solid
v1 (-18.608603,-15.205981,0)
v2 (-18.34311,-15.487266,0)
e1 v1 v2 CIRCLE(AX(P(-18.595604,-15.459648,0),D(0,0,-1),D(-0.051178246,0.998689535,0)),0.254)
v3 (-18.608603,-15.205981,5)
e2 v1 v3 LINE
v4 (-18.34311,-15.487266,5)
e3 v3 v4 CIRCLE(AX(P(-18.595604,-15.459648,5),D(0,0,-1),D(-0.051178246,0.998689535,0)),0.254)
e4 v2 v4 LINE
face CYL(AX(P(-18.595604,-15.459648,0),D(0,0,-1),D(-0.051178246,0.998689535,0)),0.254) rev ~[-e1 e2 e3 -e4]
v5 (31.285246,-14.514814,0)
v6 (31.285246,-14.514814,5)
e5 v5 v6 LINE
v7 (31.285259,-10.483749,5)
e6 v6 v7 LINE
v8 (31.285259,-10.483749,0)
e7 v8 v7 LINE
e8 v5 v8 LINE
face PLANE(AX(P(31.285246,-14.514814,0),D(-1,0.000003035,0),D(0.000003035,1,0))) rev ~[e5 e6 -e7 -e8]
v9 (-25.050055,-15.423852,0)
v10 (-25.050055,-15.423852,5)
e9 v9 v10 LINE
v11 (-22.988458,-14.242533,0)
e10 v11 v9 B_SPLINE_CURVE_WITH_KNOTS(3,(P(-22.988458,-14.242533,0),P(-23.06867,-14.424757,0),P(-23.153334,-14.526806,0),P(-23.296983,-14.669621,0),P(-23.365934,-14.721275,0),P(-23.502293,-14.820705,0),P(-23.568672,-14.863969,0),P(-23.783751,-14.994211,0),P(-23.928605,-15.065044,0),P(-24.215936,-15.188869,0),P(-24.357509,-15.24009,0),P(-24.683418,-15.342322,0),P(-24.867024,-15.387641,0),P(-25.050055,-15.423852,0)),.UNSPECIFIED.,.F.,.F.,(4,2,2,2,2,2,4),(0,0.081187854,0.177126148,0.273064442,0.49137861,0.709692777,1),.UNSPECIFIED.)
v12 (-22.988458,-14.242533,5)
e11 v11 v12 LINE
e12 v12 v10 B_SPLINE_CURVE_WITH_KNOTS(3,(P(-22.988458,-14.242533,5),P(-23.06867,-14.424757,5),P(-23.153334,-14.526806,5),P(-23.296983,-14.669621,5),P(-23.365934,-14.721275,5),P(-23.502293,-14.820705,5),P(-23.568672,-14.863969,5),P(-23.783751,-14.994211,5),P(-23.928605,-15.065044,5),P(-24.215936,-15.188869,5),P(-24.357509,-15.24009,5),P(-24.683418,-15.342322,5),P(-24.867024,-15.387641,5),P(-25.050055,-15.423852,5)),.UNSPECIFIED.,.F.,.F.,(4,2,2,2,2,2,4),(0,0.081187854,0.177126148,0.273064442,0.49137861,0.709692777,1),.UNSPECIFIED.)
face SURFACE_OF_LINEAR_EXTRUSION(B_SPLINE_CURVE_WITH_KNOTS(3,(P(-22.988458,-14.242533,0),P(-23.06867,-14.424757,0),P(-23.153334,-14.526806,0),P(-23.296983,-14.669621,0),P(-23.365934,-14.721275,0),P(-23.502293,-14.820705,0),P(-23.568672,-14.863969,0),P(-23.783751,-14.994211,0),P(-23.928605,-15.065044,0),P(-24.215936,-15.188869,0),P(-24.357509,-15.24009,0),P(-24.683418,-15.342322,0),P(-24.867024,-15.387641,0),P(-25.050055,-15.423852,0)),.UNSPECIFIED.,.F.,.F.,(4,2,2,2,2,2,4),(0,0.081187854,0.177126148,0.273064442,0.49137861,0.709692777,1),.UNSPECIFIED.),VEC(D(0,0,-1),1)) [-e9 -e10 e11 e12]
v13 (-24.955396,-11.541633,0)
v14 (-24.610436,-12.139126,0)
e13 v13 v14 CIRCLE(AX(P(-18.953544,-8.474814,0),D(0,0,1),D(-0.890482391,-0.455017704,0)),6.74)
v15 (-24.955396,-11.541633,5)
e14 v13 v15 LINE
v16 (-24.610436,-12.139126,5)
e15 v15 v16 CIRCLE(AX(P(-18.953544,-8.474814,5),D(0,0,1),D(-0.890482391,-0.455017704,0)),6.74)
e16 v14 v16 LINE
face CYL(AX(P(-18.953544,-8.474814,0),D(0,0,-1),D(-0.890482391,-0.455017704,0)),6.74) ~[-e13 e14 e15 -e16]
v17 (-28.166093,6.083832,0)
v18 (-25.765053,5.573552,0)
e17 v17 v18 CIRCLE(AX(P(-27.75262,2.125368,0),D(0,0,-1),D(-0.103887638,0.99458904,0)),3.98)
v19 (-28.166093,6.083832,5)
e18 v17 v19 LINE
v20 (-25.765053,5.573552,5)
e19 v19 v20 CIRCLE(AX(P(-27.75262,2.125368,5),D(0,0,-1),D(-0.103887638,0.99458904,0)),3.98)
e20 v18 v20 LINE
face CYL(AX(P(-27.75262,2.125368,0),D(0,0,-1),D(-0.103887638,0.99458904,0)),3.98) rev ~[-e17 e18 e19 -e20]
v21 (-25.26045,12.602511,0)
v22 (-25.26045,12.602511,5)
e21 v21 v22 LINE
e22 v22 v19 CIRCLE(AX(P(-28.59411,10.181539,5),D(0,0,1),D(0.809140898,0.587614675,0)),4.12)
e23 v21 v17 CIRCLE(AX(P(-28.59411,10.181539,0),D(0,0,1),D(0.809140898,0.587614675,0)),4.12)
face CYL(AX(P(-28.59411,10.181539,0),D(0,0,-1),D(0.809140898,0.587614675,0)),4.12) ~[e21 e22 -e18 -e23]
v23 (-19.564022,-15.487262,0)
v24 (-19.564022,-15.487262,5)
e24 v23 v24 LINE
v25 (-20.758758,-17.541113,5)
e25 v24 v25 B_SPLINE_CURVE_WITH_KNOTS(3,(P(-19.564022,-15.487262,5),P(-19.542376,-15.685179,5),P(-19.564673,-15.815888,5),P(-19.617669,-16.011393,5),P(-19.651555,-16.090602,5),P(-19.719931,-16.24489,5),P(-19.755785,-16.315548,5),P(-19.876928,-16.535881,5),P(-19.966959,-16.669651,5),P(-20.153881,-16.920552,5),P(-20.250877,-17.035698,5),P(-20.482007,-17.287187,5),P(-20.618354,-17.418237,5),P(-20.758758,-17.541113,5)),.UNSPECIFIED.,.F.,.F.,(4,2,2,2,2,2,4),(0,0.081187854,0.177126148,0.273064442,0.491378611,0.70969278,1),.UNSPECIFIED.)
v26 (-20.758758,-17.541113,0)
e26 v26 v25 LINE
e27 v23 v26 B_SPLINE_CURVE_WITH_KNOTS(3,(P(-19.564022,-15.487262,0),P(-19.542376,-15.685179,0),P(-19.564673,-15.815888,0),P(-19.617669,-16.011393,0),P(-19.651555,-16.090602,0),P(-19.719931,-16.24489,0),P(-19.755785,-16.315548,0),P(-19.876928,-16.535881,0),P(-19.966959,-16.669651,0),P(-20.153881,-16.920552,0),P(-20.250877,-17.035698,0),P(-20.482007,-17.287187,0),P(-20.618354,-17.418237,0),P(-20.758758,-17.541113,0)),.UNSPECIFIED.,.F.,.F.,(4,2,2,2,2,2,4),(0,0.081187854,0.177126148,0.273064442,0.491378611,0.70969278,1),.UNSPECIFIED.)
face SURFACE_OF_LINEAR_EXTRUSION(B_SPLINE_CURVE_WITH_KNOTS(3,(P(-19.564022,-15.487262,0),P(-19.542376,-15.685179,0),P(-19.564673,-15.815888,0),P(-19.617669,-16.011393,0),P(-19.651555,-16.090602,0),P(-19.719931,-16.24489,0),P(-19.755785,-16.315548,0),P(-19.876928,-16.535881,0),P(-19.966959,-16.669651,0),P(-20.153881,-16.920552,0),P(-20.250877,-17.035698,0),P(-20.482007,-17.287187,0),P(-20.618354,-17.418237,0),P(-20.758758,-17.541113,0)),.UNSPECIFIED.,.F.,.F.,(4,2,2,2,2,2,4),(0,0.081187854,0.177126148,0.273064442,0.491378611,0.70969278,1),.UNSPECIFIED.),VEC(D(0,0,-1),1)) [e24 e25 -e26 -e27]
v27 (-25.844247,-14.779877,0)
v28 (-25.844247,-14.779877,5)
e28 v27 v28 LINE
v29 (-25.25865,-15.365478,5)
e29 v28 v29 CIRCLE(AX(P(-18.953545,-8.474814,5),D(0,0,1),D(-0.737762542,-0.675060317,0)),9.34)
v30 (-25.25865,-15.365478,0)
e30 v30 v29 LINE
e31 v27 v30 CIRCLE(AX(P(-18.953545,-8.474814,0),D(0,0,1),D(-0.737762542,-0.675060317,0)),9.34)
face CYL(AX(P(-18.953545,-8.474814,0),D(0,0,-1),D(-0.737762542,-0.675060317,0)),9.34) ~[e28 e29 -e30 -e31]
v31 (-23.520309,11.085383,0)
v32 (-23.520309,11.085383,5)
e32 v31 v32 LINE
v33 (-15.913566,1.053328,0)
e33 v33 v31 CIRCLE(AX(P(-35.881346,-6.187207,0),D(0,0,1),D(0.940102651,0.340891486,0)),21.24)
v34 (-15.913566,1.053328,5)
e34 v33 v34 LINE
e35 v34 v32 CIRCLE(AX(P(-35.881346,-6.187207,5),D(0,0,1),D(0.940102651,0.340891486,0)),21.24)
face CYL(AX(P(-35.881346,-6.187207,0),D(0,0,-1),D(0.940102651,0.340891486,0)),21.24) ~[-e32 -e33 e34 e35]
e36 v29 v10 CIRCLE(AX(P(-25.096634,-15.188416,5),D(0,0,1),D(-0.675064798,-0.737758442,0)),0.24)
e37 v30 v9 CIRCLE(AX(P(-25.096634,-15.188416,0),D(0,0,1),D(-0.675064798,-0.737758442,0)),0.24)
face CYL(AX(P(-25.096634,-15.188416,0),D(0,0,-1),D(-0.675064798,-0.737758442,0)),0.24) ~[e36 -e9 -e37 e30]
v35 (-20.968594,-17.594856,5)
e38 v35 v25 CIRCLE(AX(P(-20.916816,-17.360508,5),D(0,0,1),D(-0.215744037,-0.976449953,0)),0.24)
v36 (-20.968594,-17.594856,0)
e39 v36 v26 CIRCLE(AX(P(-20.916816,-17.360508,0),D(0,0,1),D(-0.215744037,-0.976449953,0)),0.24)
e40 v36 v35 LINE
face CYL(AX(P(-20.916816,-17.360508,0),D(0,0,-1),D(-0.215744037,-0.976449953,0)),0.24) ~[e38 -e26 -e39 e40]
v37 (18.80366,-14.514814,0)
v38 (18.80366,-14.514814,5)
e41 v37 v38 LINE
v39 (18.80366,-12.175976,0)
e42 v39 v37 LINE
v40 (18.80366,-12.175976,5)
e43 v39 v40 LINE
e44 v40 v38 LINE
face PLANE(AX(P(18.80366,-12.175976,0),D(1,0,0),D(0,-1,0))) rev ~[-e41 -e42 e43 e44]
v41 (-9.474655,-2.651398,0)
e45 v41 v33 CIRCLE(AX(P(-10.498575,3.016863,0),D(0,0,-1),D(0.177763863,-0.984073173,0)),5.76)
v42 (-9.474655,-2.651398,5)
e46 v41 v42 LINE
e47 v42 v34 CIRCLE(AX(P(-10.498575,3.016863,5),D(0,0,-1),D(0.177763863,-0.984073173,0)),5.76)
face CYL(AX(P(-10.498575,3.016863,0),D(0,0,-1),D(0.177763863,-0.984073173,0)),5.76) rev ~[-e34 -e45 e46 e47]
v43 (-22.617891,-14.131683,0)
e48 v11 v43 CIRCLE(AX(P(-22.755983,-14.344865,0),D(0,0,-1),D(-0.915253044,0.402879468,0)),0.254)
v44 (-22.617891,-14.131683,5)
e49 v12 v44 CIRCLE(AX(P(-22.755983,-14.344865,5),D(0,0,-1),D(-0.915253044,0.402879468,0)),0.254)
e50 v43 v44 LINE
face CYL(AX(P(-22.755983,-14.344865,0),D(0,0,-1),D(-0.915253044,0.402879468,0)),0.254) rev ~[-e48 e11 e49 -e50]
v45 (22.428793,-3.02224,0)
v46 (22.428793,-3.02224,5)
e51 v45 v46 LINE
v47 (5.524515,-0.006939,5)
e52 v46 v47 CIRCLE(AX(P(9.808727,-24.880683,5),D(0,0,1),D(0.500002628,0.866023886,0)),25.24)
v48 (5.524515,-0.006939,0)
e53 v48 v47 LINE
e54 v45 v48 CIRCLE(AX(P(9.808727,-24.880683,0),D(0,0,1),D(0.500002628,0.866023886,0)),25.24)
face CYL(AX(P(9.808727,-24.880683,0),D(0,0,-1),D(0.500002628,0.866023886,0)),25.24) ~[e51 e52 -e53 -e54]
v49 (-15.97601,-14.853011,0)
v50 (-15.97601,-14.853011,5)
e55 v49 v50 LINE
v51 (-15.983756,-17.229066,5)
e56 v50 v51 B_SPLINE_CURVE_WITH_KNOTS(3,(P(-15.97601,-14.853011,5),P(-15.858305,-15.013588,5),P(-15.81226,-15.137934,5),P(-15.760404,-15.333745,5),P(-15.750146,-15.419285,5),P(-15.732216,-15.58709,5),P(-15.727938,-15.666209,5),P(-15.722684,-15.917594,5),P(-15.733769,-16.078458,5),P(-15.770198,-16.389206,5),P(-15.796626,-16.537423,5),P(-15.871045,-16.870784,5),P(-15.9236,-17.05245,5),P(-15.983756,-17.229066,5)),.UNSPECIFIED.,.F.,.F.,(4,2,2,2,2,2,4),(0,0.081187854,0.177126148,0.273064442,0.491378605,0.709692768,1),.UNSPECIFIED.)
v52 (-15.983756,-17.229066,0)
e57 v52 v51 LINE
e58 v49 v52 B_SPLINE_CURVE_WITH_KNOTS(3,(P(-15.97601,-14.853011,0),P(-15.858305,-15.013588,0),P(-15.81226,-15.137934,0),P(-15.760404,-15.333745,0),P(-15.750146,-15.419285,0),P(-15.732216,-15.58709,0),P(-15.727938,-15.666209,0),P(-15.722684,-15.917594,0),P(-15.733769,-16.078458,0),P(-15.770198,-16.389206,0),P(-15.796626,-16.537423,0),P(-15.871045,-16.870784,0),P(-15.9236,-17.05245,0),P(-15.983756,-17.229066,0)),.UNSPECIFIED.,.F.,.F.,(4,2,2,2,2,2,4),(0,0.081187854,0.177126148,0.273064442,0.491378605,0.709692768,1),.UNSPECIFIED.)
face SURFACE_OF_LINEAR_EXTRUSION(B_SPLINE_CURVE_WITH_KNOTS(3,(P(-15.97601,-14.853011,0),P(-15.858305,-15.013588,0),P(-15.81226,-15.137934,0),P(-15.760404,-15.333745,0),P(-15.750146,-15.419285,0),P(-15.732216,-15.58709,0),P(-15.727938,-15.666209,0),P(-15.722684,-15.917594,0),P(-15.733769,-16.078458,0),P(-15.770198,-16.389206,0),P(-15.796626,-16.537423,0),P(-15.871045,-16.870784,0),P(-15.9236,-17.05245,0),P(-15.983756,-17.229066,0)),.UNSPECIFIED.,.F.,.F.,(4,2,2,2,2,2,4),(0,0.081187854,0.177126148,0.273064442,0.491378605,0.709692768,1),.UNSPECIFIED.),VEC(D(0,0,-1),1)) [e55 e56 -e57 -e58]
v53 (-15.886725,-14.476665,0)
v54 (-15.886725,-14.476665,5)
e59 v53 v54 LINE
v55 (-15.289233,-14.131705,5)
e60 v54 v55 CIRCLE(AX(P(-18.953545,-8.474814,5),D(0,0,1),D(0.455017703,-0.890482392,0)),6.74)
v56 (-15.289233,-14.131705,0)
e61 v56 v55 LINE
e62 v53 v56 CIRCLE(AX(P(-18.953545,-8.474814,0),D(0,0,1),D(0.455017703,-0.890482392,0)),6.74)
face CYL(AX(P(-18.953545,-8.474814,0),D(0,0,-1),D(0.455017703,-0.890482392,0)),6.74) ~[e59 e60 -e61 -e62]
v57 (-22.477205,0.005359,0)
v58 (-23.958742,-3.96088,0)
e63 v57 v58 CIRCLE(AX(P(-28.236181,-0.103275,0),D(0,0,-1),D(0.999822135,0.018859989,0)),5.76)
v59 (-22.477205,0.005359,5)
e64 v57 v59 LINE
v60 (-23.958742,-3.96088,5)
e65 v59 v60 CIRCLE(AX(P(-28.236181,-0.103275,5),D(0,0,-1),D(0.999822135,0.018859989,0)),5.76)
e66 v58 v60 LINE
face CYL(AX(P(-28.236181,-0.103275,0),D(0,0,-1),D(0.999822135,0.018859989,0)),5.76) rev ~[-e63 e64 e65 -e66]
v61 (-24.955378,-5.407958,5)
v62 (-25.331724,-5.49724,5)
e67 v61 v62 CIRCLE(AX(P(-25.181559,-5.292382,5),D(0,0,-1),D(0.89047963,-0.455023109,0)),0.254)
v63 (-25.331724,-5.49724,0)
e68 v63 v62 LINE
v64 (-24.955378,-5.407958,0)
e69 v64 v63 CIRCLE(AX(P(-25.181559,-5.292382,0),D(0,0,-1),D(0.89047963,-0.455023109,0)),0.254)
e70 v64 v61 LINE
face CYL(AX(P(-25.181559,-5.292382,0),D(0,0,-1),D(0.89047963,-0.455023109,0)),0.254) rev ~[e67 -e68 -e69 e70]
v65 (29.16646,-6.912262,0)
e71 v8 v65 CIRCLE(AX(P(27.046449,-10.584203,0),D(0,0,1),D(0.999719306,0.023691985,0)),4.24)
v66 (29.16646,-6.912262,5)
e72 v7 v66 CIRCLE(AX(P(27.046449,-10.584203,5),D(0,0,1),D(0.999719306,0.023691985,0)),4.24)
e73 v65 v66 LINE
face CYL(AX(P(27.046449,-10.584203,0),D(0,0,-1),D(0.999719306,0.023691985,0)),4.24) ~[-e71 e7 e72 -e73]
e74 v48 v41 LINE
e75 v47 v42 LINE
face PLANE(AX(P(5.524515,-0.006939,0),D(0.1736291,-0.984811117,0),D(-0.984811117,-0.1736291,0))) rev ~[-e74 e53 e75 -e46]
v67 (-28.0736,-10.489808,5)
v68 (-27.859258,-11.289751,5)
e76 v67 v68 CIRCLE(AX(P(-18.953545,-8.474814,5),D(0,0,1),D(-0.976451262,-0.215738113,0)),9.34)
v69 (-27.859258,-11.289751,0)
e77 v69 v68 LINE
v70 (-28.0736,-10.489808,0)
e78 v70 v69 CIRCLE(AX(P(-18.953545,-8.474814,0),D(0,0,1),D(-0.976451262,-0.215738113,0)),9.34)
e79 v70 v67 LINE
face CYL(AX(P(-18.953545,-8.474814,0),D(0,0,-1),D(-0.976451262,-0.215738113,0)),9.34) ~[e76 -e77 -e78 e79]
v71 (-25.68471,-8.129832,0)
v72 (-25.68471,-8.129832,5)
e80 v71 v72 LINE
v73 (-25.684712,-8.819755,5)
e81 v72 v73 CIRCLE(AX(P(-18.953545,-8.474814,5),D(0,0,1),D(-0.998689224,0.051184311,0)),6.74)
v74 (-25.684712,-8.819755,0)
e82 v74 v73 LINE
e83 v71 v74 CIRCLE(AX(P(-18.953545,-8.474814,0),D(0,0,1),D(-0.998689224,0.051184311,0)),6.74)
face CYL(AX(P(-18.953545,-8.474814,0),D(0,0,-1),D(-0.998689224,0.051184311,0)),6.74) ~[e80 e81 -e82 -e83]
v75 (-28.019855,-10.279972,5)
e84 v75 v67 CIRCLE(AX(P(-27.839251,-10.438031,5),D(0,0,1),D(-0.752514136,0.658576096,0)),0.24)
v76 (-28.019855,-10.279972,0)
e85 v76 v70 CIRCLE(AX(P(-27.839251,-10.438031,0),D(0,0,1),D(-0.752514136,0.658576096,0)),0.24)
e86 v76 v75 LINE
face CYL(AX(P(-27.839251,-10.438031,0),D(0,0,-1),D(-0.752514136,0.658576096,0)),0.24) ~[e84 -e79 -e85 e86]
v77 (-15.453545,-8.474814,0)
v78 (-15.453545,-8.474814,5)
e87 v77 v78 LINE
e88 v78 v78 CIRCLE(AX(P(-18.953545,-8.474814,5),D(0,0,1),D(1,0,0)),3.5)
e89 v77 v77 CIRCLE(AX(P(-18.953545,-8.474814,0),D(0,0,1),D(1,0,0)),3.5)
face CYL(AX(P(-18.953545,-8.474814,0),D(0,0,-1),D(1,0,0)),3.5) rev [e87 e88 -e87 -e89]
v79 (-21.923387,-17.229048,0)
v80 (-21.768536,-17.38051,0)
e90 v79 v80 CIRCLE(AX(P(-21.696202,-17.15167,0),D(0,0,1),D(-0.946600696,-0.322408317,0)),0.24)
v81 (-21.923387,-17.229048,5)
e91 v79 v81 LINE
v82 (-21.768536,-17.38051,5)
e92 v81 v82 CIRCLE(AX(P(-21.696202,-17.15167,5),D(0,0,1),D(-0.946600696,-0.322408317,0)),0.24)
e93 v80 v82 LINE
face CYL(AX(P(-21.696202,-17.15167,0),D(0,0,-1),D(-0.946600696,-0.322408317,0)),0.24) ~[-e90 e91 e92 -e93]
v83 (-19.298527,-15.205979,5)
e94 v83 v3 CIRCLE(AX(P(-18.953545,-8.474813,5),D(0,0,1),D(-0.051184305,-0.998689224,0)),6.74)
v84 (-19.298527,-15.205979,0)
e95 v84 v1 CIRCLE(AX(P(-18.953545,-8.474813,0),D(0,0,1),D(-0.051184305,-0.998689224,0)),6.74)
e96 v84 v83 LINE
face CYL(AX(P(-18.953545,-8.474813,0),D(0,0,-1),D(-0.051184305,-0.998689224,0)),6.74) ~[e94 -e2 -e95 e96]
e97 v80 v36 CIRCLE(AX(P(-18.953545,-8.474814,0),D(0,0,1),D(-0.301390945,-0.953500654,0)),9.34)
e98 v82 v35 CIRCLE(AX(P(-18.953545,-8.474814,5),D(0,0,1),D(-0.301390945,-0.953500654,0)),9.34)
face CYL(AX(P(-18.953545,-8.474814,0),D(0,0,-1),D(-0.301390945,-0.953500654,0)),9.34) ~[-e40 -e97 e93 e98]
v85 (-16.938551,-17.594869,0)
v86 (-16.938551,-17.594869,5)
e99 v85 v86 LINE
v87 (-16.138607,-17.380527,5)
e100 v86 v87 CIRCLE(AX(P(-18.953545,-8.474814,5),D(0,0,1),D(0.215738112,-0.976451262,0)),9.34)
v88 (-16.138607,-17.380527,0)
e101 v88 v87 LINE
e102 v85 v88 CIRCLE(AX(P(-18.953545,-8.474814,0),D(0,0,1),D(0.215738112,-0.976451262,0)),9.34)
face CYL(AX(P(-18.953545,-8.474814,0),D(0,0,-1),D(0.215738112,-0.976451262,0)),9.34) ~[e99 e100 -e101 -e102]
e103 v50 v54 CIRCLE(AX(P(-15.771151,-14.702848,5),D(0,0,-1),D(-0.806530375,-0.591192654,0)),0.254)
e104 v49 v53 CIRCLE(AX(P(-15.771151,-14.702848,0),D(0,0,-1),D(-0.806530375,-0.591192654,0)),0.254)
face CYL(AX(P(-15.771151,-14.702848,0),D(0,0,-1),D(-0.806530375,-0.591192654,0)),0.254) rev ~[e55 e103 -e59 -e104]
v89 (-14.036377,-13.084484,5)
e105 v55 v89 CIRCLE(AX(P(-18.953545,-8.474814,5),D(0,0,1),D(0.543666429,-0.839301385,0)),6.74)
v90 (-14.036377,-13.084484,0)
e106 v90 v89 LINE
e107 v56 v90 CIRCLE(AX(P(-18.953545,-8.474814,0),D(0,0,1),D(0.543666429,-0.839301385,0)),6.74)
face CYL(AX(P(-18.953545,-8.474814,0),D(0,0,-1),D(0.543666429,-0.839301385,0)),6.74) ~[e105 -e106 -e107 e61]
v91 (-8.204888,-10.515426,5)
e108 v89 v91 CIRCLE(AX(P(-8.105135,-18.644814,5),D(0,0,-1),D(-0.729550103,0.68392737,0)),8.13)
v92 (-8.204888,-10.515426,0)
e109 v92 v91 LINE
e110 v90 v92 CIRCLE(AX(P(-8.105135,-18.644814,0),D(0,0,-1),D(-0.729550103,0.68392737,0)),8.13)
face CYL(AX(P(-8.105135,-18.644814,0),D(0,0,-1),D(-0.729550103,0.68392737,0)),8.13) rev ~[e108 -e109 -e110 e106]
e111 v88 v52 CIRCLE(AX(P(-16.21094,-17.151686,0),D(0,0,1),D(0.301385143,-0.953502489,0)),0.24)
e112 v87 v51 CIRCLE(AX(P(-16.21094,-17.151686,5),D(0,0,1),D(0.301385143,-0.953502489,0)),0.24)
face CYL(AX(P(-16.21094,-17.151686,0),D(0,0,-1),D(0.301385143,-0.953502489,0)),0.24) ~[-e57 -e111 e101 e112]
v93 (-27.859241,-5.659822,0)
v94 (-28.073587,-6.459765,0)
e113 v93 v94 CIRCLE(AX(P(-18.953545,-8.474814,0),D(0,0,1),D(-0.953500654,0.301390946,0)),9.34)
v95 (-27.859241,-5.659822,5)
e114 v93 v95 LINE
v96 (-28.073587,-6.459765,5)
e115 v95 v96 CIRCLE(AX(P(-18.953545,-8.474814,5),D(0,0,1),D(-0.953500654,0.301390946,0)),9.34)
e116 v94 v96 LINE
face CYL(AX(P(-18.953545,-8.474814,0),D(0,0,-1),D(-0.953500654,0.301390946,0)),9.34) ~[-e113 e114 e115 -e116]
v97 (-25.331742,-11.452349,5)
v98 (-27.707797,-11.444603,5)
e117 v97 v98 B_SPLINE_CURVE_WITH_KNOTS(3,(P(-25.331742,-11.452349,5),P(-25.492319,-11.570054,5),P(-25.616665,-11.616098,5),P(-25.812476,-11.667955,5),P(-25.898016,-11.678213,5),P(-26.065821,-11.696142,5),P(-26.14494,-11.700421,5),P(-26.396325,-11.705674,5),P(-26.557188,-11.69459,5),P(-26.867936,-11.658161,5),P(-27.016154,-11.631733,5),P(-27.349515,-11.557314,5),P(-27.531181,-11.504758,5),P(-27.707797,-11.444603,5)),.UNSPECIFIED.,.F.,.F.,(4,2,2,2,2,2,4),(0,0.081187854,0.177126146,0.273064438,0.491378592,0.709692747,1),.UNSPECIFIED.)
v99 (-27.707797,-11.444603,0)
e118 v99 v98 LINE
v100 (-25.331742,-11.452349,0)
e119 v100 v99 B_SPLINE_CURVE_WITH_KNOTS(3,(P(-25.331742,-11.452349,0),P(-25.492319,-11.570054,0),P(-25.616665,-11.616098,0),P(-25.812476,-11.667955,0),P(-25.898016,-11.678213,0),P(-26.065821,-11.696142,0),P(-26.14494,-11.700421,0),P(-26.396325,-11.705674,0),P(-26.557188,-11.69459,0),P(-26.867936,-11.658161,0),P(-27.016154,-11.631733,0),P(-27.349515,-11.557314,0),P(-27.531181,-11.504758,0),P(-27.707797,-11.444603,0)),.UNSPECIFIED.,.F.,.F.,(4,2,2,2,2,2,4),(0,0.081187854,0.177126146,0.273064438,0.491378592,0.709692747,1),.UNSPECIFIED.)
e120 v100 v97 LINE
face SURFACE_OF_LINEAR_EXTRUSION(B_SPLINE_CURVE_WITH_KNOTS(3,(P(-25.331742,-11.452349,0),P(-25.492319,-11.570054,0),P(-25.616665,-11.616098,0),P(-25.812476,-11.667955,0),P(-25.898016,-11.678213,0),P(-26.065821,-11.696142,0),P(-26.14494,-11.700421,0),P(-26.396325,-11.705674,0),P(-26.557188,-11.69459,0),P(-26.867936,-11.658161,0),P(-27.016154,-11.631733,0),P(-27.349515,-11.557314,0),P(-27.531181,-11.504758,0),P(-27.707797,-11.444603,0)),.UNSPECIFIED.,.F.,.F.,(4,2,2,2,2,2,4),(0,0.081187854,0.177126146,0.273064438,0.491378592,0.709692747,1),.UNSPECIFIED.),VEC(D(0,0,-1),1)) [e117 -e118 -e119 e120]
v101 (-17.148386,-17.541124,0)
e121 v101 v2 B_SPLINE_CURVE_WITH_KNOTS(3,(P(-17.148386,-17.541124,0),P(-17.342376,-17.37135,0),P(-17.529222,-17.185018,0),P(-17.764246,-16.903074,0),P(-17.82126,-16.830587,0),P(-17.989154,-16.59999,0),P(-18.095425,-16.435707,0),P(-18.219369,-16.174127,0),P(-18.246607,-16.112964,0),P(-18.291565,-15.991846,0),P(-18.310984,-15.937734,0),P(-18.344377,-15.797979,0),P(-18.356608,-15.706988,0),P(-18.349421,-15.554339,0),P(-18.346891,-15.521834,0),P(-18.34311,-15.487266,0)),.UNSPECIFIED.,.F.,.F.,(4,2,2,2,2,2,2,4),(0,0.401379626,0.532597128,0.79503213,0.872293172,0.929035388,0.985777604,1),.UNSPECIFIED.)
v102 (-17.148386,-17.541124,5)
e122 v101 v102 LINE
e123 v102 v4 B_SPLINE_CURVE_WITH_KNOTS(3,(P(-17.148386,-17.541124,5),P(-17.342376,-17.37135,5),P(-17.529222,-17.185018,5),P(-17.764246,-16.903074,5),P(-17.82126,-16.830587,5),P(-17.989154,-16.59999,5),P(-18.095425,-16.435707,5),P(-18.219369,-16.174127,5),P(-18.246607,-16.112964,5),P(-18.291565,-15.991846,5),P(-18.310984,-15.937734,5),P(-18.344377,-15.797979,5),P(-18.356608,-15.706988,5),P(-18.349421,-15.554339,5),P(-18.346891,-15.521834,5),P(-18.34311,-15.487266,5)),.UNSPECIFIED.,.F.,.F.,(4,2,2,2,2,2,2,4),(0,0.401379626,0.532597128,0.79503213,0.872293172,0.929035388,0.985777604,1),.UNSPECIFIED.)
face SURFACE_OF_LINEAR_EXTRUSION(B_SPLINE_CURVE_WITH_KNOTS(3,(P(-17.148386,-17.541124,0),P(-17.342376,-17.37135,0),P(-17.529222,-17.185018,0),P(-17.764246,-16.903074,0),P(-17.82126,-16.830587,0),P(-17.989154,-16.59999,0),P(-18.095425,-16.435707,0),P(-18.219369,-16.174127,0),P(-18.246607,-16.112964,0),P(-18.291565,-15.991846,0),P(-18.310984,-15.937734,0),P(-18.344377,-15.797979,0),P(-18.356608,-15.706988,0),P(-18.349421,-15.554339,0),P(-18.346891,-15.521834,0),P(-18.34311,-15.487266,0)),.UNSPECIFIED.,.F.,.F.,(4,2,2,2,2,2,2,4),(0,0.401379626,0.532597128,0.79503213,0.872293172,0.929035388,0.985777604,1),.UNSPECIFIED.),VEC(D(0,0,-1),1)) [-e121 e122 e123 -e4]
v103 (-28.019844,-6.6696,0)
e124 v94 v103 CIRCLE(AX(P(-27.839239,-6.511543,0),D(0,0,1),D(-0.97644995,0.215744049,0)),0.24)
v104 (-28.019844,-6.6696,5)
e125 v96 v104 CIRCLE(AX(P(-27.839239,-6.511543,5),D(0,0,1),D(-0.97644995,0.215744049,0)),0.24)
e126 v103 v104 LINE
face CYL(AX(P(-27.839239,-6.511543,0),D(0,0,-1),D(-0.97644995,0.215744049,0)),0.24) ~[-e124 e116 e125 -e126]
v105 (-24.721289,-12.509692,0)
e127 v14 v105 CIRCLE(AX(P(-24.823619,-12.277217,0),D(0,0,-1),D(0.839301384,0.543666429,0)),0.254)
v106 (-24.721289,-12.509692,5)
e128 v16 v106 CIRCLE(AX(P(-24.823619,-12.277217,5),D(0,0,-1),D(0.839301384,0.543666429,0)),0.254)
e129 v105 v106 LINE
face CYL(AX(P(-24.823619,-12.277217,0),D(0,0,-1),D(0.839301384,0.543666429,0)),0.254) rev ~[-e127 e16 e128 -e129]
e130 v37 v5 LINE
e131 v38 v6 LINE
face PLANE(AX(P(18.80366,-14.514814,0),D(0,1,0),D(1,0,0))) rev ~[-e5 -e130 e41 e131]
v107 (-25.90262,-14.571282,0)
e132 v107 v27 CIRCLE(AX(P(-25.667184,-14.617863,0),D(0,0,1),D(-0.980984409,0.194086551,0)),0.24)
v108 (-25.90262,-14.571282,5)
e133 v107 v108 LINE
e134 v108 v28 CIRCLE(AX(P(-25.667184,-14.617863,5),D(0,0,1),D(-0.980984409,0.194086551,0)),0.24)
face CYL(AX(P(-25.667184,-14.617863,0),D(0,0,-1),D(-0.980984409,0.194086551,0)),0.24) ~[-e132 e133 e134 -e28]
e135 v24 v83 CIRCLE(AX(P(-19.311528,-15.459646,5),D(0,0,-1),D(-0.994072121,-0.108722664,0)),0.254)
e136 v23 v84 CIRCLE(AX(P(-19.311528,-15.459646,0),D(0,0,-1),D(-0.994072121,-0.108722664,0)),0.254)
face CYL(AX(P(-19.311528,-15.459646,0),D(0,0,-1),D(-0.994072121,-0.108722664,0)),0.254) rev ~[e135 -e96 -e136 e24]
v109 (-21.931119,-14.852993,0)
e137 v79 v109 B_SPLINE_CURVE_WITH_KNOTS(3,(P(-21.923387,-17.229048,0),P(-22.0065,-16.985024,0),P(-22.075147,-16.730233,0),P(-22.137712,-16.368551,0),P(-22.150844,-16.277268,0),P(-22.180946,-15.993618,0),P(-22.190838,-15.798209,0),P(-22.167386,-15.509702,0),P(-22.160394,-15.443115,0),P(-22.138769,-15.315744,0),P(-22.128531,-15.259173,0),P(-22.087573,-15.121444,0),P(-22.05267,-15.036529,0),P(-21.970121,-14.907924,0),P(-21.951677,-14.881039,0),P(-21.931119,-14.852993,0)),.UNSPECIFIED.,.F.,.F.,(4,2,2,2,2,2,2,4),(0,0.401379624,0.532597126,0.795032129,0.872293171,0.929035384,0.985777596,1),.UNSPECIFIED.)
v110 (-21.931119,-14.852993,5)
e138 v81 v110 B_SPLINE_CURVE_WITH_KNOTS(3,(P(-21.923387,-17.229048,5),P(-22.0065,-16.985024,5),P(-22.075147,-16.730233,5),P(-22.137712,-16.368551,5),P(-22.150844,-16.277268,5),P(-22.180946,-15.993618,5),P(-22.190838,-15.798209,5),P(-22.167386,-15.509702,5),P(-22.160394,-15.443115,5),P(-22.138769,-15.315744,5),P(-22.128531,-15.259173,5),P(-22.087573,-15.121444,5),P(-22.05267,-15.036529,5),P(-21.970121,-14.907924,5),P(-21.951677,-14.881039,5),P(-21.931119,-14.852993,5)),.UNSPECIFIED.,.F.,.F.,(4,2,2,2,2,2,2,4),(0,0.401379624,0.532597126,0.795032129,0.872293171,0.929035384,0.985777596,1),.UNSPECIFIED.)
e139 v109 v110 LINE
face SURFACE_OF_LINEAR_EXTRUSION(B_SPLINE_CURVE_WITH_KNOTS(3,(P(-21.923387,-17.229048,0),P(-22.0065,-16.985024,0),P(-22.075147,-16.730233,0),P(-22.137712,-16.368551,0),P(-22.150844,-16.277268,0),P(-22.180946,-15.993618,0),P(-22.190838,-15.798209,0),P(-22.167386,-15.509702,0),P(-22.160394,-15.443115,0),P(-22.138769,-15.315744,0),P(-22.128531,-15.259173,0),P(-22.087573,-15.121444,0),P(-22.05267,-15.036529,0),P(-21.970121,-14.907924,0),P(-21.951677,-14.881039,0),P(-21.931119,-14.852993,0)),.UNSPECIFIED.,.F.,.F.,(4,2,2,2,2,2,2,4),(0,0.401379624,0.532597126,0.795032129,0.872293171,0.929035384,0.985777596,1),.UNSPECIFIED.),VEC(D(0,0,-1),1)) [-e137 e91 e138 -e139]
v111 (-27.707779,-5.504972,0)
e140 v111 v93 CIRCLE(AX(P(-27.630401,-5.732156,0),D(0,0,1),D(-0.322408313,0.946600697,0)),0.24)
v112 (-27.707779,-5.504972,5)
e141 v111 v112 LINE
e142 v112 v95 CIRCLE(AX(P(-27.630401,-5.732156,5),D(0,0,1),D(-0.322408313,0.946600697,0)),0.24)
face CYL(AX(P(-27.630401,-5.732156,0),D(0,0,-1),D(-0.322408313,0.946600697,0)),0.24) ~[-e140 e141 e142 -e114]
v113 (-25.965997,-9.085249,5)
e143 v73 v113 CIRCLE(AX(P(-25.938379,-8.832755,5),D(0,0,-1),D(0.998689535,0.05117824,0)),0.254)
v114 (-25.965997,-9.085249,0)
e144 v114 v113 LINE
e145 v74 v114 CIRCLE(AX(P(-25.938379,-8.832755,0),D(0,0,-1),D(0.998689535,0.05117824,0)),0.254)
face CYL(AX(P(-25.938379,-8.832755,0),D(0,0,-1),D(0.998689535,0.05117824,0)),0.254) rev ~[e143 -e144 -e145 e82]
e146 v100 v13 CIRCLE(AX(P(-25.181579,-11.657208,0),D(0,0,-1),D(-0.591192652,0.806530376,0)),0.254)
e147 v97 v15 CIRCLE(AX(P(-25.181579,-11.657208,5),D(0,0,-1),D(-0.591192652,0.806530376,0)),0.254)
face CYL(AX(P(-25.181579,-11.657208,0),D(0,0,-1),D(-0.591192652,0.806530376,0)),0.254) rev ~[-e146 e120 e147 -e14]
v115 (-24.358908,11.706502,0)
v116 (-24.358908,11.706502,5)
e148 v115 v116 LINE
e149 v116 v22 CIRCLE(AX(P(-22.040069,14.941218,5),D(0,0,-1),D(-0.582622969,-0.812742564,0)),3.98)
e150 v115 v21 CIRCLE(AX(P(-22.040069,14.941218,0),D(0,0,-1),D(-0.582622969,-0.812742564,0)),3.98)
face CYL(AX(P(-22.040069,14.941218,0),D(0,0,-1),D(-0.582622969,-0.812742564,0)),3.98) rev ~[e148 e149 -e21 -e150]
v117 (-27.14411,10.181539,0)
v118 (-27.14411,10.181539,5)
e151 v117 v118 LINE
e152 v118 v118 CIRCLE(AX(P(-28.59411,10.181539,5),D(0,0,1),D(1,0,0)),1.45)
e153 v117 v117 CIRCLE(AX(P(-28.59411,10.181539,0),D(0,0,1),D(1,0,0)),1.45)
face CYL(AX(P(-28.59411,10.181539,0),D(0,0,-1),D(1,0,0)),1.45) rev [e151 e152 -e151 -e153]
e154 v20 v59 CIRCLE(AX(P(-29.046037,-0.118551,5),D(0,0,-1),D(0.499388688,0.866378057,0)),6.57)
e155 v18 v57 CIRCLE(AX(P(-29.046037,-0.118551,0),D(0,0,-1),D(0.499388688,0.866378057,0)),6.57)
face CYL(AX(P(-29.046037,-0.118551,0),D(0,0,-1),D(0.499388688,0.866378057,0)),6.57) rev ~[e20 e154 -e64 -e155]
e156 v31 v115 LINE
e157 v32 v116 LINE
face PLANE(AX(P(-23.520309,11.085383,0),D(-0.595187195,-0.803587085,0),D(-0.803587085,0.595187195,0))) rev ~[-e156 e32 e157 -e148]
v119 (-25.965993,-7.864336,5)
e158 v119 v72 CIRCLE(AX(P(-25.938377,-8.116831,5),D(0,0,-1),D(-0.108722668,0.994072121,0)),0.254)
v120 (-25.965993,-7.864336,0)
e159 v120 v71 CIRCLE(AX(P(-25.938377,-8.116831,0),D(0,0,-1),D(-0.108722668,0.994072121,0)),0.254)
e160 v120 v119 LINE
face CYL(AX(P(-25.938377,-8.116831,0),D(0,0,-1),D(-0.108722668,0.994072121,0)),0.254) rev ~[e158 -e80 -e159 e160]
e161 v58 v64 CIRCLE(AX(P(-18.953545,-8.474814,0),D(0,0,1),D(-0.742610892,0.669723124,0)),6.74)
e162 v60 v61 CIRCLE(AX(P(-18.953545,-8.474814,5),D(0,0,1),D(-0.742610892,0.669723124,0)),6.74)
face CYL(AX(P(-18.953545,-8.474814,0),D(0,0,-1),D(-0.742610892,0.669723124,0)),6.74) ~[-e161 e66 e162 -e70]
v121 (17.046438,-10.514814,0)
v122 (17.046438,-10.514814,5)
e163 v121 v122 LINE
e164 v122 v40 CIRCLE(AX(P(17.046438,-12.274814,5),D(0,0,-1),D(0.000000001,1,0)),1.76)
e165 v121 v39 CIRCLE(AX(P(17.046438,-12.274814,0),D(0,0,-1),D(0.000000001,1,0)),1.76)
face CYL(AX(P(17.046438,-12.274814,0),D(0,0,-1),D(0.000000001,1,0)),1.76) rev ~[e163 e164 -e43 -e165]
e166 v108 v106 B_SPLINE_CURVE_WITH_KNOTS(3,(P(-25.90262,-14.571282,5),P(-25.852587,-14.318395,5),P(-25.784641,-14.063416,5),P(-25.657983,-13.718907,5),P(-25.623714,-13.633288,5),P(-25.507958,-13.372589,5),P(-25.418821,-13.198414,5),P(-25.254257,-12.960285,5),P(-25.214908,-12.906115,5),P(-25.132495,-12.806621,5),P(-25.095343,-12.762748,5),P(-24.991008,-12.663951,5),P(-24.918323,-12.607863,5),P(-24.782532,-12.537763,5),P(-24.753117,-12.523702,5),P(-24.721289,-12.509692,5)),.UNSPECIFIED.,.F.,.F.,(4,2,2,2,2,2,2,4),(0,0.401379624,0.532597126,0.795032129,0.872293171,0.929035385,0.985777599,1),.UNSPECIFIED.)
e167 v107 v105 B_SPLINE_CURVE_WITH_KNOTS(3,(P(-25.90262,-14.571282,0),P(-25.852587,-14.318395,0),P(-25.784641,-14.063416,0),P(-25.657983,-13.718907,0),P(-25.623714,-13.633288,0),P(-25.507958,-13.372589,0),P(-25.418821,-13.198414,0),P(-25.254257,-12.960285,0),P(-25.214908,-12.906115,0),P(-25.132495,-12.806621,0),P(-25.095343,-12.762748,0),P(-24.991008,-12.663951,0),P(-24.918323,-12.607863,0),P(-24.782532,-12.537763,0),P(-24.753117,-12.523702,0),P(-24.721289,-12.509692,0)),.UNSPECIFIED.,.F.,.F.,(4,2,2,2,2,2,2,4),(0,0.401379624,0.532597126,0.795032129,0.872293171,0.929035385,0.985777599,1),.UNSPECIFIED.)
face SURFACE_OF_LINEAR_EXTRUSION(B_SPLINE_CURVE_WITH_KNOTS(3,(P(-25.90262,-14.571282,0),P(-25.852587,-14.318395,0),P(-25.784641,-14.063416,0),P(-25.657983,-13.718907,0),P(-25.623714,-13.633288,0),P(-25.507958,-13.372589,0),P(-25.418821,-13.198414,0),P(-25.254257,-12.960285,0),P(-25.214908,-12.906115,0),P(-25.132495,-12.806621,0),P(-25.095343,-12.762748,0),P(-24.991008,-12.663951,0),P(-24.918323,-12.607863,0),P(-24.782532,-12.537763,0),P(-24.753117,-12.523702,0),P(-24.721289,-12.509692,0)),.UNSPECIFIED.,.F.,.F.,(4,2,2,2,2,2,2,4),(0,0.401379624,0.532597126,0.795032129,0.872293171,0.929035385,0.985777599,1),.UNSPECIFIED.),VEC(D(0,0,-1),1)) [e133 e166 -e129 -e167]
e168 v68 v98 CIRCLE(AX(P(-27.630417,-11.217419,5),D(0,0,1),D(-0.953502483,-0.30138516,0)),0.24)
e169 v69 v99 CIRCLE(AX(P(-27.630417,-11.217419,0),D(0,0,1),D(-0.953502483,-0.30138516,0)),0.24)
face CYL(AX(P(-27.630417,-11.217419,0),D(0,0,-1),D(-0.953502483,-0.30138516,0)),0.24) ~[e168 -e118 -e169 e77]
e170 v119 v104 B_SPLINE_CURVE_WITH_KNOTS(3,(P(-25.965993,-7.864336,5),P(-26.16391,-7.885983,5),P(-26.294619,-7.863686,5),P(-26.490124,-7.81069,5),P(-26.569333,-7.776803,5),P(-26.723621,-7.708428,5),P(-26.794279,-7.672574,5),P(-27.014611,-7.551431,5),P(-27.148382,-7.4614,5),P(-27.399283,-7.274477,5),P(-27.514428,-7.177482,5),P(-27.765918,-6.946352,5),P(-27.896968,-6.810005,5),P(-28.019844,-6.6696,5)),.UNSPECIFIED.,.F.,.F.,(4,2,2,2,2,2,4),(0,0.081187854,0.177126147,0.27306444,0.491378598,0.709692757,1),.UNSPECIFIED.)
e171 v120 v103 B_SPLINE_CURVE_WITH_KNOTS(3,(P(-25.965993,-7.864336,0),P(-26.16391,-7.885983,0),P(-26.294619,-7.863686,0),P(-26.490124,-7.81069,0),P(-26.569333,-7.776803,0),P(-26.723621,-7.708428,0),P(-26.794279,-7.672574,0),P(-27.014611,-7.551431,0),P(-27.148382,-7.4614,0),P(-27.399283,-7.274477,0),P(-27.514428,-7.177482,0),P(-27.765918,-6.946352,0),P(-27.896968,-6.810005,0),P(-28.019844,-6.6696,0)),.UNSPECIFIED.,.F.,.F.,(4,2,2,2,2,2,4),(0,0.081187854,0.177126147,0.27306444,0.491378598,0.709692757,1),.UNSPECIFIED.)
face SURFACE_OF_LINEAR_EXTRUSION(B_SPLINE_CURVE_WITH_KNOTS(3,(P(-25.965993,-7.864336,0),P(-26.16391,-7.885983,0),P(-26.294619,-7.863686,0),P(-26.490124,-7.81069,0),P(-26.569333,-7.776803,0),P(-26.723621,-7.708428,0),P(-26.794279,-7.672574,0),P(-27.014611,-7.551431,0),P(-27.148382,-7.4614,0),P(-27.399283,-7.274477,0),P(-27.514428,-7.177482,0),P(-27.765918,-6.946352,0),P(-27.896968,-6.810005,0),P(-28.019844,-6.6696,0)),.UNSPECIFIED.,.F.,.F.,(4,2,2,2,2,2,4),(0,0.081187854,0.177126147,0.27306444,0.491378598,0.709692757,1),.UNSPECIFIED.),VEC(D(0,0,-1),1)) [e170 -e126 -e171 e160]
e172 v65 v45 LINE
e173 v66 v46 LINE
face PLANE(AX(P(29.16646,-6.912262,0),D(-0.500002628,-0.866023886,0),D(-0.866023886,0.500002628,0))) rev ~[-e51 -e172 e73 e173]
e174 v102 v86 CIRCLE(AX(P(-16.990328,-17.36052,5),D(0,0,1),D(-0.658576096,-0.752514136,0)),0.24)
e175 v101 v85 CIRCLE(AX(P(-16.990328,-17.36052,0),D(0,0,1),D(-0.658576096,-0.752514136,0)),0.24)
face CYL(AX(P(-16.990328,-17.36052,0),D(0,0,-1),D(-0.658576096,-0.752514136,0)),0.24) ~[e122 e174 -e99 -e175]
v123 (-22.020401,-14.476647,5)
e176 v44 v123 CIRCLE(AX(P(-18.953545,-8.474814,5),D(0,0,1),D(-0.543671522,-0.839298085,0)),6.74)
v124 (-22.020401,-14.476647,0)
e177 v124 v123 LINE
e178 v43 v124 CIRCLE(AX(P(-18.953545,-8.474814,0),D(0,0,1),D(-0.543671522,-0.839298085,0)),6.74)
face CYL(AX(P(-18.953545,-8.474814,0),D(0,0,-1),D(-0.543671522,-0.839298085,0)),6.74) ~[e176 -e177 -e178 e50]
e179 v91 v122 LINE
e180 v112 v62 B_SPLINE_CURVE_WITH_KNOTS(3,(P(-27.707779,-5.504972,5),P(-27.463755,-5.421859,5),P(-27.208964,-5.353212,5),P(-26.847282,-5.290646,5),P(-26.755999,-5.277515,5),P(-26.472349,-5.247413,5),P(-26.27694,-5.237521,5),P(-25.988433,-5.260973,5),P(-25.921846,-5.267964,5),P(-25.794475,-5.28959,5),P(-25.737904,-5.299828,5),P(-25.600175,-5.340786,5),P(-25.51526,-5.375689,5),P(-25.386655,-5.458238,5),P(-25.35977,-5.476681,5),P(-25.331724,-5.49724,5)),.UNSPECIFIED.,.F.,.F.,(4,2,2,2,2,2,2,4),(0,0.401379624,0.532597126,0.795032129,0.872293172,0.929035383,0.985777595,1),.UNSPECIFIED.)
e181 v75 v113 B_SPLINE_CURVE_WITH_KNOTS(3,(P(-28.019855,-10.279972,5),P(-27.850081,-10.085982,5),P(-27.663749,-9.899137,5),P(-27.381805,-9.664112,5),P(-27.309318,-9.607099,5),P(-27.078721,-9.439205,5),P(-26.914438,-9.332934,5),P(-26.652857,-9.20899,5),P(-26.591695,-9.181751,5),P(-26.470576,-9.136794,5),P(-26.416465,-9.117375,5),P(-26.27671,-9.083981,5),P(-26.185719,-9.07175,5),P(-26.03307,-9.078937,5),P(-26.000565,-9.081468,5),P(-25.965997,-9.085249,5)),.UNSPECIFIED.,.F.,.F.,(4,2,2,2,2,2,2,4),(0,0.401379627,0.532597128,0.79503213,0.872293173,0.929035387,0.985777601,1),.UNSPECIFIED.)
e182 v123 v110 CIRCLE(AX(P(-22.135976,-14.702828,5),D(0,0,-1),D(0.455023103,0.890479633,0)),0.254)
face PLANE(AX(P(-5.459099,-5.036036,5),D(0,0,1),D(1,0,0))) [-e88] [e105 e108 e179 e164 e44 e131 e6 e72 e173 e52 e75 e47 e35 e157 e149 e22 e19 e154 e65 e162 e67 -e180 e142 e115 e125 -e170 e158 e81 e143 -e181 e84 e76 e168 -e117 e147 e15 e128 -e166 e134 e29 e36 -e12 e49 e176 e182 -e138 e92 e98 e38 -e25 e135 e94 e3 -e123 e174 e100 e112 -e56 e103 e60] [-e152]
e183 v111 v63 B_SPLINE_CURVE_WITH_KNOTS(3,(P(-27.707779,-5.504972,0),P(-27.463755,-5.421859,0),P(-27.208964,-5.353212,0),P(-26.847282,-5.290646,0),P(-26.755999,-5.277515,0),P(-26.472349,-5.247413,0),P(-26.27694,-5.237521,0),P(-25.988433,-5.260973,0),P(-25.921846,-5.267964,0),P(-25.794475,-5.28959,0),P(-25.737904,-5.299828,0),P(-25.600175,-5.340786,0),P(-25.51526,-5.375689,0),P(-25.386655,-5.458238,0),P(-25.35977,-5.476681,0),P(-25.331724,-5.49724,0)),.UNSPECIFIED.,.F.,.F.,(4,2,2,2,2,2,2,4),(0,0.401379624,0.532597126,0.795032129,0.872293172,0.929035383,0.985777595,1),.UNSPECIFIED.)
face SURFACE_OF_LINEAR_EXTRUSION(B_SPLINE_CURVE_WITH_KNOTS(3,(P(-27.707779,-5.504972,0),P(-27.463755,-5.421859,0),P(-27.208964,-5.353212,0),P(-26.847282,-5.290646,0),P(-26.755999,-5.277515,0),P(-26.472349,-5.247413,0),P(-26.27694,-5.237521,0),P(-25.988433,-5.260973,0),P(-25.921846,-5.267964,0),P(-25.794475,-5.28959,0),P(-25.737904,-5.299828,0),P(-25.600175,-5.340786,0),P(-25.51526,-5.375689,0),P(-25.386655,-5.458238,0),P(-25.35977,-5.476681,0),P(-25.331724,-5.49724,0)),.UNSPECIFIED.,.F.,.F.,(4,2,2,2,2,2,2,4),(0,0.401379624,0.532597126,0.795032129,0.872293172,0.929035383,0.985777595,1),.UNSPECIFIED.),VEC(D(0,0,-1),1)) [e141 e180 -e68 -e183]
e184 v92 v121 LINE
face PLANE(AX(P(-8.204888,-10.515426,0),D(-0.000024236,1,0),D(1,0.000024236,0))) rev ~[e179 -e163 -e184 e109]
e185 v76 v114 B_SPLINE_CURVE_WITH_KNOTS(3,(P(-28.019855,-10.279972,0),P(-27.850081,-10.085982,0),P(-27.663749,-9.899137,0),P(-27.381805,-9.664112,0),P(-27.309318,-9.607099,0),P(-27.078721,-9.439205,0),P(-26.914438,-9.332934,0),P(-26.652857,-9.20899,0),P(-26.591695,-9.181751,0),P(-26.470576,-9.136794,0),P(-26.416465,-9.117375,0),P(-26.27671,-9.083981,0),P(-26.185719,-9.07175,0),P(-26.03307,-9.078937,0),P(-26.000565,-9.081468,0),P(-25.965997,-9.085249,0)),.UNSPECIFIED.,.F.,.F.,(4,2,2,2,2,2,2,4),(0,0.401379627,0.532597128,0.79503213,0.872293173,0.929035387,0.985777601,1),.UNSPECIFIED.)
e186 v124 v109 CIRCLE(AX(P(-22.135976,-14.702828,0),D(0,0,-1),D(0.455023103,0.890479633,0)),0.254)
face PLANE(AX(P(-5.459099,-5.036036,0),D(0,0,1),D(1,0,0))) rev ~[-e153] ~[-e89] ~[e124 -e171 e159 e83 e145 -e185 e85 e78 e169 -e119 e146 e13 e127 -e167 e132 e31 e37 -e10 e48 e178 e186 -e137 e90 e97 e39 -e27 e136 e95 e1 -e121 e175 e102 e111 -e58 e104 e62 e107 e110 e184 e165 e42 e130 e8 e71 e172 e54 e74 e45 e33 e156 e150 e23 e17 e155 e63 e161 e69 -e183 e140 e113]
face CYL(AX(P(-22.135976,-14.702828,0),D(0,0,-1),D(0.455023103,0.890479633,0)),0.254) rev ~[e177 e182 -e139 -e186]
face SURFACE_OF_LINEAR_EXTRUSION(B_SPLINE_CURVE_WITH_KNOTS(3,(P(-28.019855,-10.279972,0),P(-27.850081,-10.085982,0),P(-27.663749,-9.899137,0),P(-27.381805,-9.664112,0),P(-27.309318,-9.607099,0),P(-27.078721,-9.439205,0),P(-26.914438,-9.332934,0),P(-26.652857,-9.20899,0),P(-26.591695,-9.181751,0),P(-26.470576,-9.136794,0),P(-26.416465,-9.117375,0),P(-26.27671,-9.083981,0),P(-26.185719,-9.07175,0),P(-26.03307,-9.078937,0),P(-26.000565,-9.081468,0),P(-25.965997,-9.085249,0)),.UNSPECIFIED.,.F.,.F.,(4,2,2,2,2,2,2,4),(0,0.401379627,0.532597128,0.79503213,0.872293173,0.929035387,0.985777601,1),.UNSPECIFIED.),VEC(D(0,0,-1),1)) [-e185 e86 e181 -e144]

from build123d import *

# Parameters (mm, degrees)
ESQUISSE1_R        = 3.5
ESQUISSE1_R_2      = 1.45
BOSS_EXTRU_1_DEPTH = 5


with BuildPart() as part:
    # Esquisse1 → Boss.-Extru.1 (new body)
    with BuildSketch(Plane.XY):
        with BuildLine():
            Line((-23.520309347, 11.085383373), (-24.358908183, 11.706502475))
            ThreePointArc((-24.358908183, 11.706502475), (-24.845678879, 12.118284674), (-25.260449538, 12.602511471))
            ThreePointArc((-25.260449538, 12.602511471), (-32.357200459, 11.85890316), (-28.166092976, 6.083832163))
            ThreePointArc((-28.166092976, 6.083832163), (-26.925251175, 6.018420638), (-25.765053202, 5.573552451))
            ThreePointArc((-25.765053202, 5.573552451), (-23.38866031, 3.221956107), (-22.477205459, 0.005358743))
            ThreePointArc((-22.477205459, 0.005358743), (-22.840333933, -2.118823087), (-23.958742219, -3.960879992))
            ThreePointArc((-23.958742219, -3.960879992), (-24.504417424, -4.651802838), (-24.955377519, -5.407958113))
            ThreePointArc((-24.955377519, -5.407958113), (-25.122929262, -5.539522919), (-25.331723523, -5.497240048))
            add(Edge.make_bspline(
                [(-27.707778762, -5.50497209), (-27.463755153, -5.421858651), (-27.208964141, -5.35321212), (-26.847281922, -5.290646334), (-26.755999287, -5.277514723), (-26.472348923, -5.247412771), (-26.276940328, -5.237520804), (-25.988433148, -5.260972525), (-25.921846007, -5.267964485), (-25.794475247, -5.289589568), (-25.737903956, -5.299827616), (-25.600175401, -5.340785914), (-25.51525962, -5.375688947), (-25.386655187, -5.458237644), (-25.359770306, -5.476681289), (-25.331723523, -5.497240048)],
                knots=[0, 0, 0, 0, 0.401379624, 0.401379624, 0.532597126, 0.532597126, 0.795032129, 0.795032129, 0.872293172, 0.872293172, 0.929035383, 0.929035383, 0.985777595, 0.985777595, 1, 1, 1, 1], degree=3))
            ThreePointArc((-27.707778762, -5.50497209), (-27.801973044, -5.564338041), (-27.859240924, -5.659822431))
            ThreePointArc((-27.859240924, -5.659822431), (-27.97528469, -6.057416591), (-28.073587363, -6.459764521))
            ThreePointArc((-28.073587363, -6.459764521), (-28.071734795, -6.57109038), (-28.019843727, -6.669600257))
            add(Edge.make_bspline(
                [(-25.965992802, -7.864336487), (-26.163909603, -7.885982848), (-26.294618647, -7.863685821), (-26.490123672, -7.810689646), (-26.569333075, -7.776803309), (-26.723621302, -7.70842793), (-26.794279204, -7.672573545), (-27.014611477, -7.551431096), (-27.148381506, -7.461400071), (-27.399282552, -7.274477346), (-27.514428456, -7.1774816), (-27.765918403, -6.946352168), (-27.896967937, -6.810004535), (-28.019843727, -6.669600257)],
                knots=[0, 0, 0, 0, 0.081187854, 0.081187854, 0.177126147, 0.177126147, 0.27306444, 0.27306444, 0.491378598, 0.491378598, 0.709692757, 0.709692757, 1, 1, 1, 1], degree=3))
            ThreePointArc((-25.965992802, -7.864336487), (-25.764030643, -7.932116803), (-25.68471018, -8.12983162))
            ThreePointArc((-25.68471018, -8.12983162), (-25.693544809, -8.474793397), (-25.684712274, -8.819755228))
            ThreePointArc((-25.684712274, -8.819755228), (-25.764033937, -9.017469563), (-25.965996507, -9.085248653))
            add(Edge.make_bspline(
                [(-28.019854683, -10.279972417), (-27.850080758, -10.085982263), (-27.663748533, -9.899137116), (-27.381805435, -9.664112445), (-27.309318159, -9.607098819), (-27.078720715, -9.439204582), (-26.914437891, -9.332933591), (-26.652857483, -9.208989788), (-26.591695348, -9.181751432), (-26.470576489, -9.136793922), (-26.416465288, -9.117374686), (-26.2767097, -9.083981334), (-26.185718951, -9.071750358), (-26.033069896, -9.078937415), (-26.000565097, -9.081467639), (-25.965996507, -9.085248653)],
                knots=[0, 0, 0, 0, 0.401379627, 0.401379627, 0.532597128, 0.532597128, 0.79503213, 0.79503213, 0.872293173, 0.872293173, 0.929035387, 0.929035387, 0.985777601, 0.985777601, 1, 1, 1, 1], degree=3))
            ThreePointArc((-28.019854683, -10.279972417), (-28.071746349, -10.37848198), (-28.073599593, -10.489807828))
            ThreePointArc((-28.073599593, -10.489807828), (-27.975299362, -10.892156354), (-27.85925801, -11.289751218))
            ThreePointArc((-27.85925801, -11.289751218), (-27.801990645, -11.385236021), (-27.707796615, -11.444602537))
            add(Edge.make_bspline(
                [(-25.331741596, -11.452348942), (-25.492319392, -11.570053641), (-25.616665259, -11.616098371), (-25.812475663, -11.66795485), (-25.898016186, -11.678213122), (-26.065821398, -11.696142421), (-26.144940129, -11.700420563), (-26.396324695, -11.705674262), (-26.557188449, -11.694590122), (-26.867936486, -11.658160819), (-27.016153634, -11.631732992), (-27.349515039, -11.557314005), (-27.531181086, -11.504758257), (-27.707796615, -11.444602537)],
                knots=[0, 0, 0, 0, 0.081187854, 0.081187854, 0.177126146, 0.177126146, 0.273064438, 0.273064438, 0.491378592, 0.491378592, 0.709692747, 0.709692747, 1, 1, 1, 1], degree=3))
            ThreePointArc((-25.331741596, -11.452348942), (-25.122947078, -11.410067338), (-24.955396133, -11.541633161))
            ThreePointArc((-24.955396133, -11.541633161), (-24.790566257, -11.844796137), (-24.610436143, -12.139125579))
            ThreePointArc((-24.610436143, -12.139125579), (-24.58027355, -12.350012048), (-24.721288721, -12.509691746))
            add(Edge.make_bspline(
                [(-25.902620196, -14.571281964), (-25.852586741, -14.318394602), (-25.784640874, -14.063415847), (-25.657983326, -13.718906965), (-25.623714317, -13.633288078), (-25.50795819, -13.372588681), (-25.418820586, -13.19841389), (-25.254257211, -12.960285204), (-25.214908427, -12.906115029), (-25.132495175, -12.806621255), (-25.095343118, -12.762748102), (-24.991007907, -12.663950818), (-24.918323098, -12.607863109), (-24.78253161, -12.537762753), (-24.753116511, -12.52370159), (-24.721288721, -12.509691746)],
                knots=[0, 0, 0, 0, 0.401379624, 0.401379624, 0.532597126, 0.532597126, 0.795032129, 0.795032129, 0.872293171, 0.872293171, 0.929035385, 0.929035385, 0.985777599, 0.985777599, 1, 1, 1, 1], degree=3))
            ThreePointArc((-25.902620196, -14.571281964), (-25.898304915, -14.682539581), (-25.844246948, -14.779877216))
            ThreePointArc((-25.844246948, -14.779877216), (-25.557942188, -15.079171145), (-25.258649996, -15.365477722))
            ThreePointArc((-25.258649996, -15.365477722), (-25.16131269, -15.41953628), (-25.0500551, -15.423852235))
            add(Edge.make_bspline(
                [(-22.988457711, -14.242533274), (-23.068669813, -14.424757432), (-23.153334128, -14.526806272), (-23.296982674, -14.669620503), (-23.365933805, -14.72127469), (-23.502292735, -14.820704525), (-23.568672495, -14.863968871), (-23.783751076, -14.994210996), (-23.928605252, -15.065043729), (-24.215935615, -15.188869049), (-24.357509352, -15.240090455), (-24.683418279, -15.342322416), (-24.867023546, -15.387640821), (-25.0500551, -15.423852235)],
                knots=[0, 0, 0, 0, 0.081187854, 0.081187854, 0.177126148, 0.177126148, 0.273064442, 0.273064442, 0.49137861, 0.49137861, 0.709692777, 0.709692777, 1, 1, 1, 1], degree=3))
            ThreePointArc((-22.988457711, -14.242533274), (-22.828777157, -14.101519072), (-22.617890871, -14.131682944))
            ThreePointArc((-22.617890871, -14.131682944), (-22.323562523, -14.311814845), (-22.020400547, -14.476646561))
            ThreePointArc((-22.020400547, -14.476646561), (-21.88883574, -14.644198304), (-21.931118612, -14.852992566))
            add(Edge.make_bspline(
                [(-21.92338657, -17.229047804), (-22.006500009, -16.985024196), (-22.075146539, -16.730233184), (-22.137712326, -16.368550965), (-22.150843937, -16.27726833), (-22.180945889, -15.993617965), (-22.190837855, -15.798209371), (-22.167386135, -15.509702191), (-22.160394175, -15.44311505), (-22.138769092, -15.315744289), (-22.128531044, -15.259172998), (-22.087572745, -15.121444441), (-22.052669711, -15.036528659), (-21.970121013, -14.907924226), (-21.951677369, -14.881039346), (-21.931118612, -14.852992566)],
                knots=[0, 0, 0, 0, 0.401379624, 0.401379624, 0.532597126, 0.532597126, 0.795032129, 0.795032129, 0.872293171, 0.872293171, 0.929035384, 0.929035384, 0.985777596, 0.985777596, 1, 1, 1, 1], degree=3))
            ThreePointArc((-21.92338657, -17.229047804), (-21.864020619, -17.323242086), (-21.768536229, -17.380509967))
            ThreePointArc((-21.768536229, -17.380509967), (-21.370942069, -17.496553733), (-20.96859414, -17.594856406))
            ThreePointArc((-20.96859414, -17.594856406), (-20.85726828, -17.593003837), (-20.758758403, -17.541112769))
            add(Edge.make_bspline(
                [(-19.564022173, -15.487261844), (-19.542375812, -15.685178645), (-19.564672839, -15.815887691), (-19.617669014, -16.011392715), (-19.651555352, -16.090602119), (-19.719930731, -16.244890347), (-19.755785117, -16.31554825), (-19.87692757, -16.535880531), (-19.9669586, -16.669650565), (-20.153881335, -16.920551621), (-20.250877086, -17.035697529), (-20.482006514, -17.287187467), (-20.618354136, -17.418236989), (-20.758758403, -17.541112769)],
                knots=[0, 0, 0, 0, 0.081187854, 0.081187854, 0.177126148, 0.177126148, 0.273064442, 0.273064442, 0.491378611, 0.491378611, 0.70969278, 0.70969278, 1, 1, 1, 1], degree=3))
            ThreePointArc((-19.564022173, -15.487261844), (-19.496241857, -15.285299686), (-19.29852704, -15.205979223))
            ThreePointArc((-19.29852704, -15.205979223), (-18.953565263, -15.214813851), (-18.608603432, -15.205981317))
            ThreePointArc((-18.608603432, -15.205981317), (-18.410889097, -15.285302979), (-18.343110007, -15.48726555))
            add(Edge.make_bspline(
                [(-17.148386243, -17.541123726), (-17.342376397, -17.3713498), (-17.529221544, -17.185017576), (-17.764246214, -16.903074479), (-17.82125984, -16.830587203), (-17.989154077, -16.599989758), (-18.095425068, -16.435706934), (-18.219368872, -16.174126527), (-18.246607228, -16.112964392), (-18.291564738, -15.991845532), (-18.310983975, -15.93773433), (-18.344377327, -15.797978738), (-18.356608302, -15.706987985), (-18.349421244, -15.554338929), (-18.34689102, -15.521834135), (-18.343110007, -15.48726555)],
                knots=[0, 0, 0, 0, 0.401379626, 0.401379626, 0.532597128, 0.532597128, 0.79503213, 0.79503213, 0.872293172, 0.872293172, 0.929035388, 0.929035388, 0.985777604, 0.985777604, 1, 1, 1, 1], degree=3))
            ThreePointArc((-17.148386243, -17.541123726), (-17.04987668, -17.593015392), (-16.938550832, -17.594868636))
            ThreePointArc((-16.938550832, -17.594868636), (-16.536202306, -17.496568405), (-16.138607442, -17.380527052))
            ThreePointArc((-16.138607442, -17.380527052), (-16.043122704, -17.323259752), (-15.983756182, -17.22906583))
            add(Edge.make_bspline(
                [(-15.976009718, -14.853010638), (-15.858305019, -15.013588435), (-15.812260288, -15.137934302), (-15.76040381, -15.333744708), (-15.750145537, -15.419285233), (-15.732216239, -15.587090447), (-15.727938096, -15.666209179), (-15.722684398, -15.917593753), (-15.733768539, -16.078457512), (-15.770197846, -16.38920556), (-15.796625675, -16.537422713), (-15.871044662, -16.870784108), (-15.923600407, -17.052450142), (-15.983756182, -17.22906583)],
                knots=[0, 0, 0, 0, 0.081187854, 0.081187854, 0.177126148, 0.177126148, 0.273064442, 0.273064442, 0.491378605, 0.491378605, 0.709692768, 0.709692768, 1, 1, 1, 1], degree=3))
            ThreePointArc((-15.976009718, -14.853010638), (-16.018291322, -14.64421612), (-15.886725499, -14.476665176))
            ThreePointArc((-15.886725499, -14.476665176), (-15.583562523, -14.3118353), (-15.289233081, -14.131705185))
            ThreePointArc((-15.289233081, -14.131705185), (-14.630974378, -13.646175845), (-14.036377119, -13.084484329))
            ThreePointArc((-14.036377119, -13.084484329), (-11.382823106, -11.204809867), (-8.204887511, -10.515425843))
            Line((-8.204887511, -10.515425843), (17.04643759, -10.514813851))
            ThreePointArc((17.04643759, -10.514813851), (18.255496355, -10.99583891), (18.803660163, -12.175976463))
            Line((18.803660163, -12.175976463), (18.803660163, -14.514813851))
            Line((18.803660163, -14.514813851), (31.285246412, -14.514813851))
            Line((31.285246412, -14.514813851), (31.285258645, -10.483748772))
            ThreePointArc((31.285258645, -10.483748772), (30.693026835, -8.420856178), (29.166459934, -6.912261511))
            Line((29.166459934, -6.912261511), (22.428792847, -3.022240342))
            ThreePointArc((22.428792847, -3.022240342), (14.240952746, -0.032887143), (5.524515127, -0.006939391))
            Line((5.524515127, -0.006939391), (-9.47465467, -2.651398118))
            ThreePointArc((-9.47465467, -2.651398118), (-13.371139001, -1.975728488), (-15.913565792, 1.053328395))
            ThreePointArc((-15.913565792, 1.053328395), (-18.956552603, 6.645913075), (-23.520309347, 11.085383373))
        make_face()
        with Locations((-18.953544809, -8.474813851)):
            Circle(ESQUISSE1_R, mode=Mode.SUBTRACT)
        with Locations((-28.594110039, 10.181539009)):
            Circle(ESQUISSE1_R_2, mode=Mode.SUBTRACT)
    extrude(amount=BOSS_EXTRU_1_DEPTH)


solid = part.part
